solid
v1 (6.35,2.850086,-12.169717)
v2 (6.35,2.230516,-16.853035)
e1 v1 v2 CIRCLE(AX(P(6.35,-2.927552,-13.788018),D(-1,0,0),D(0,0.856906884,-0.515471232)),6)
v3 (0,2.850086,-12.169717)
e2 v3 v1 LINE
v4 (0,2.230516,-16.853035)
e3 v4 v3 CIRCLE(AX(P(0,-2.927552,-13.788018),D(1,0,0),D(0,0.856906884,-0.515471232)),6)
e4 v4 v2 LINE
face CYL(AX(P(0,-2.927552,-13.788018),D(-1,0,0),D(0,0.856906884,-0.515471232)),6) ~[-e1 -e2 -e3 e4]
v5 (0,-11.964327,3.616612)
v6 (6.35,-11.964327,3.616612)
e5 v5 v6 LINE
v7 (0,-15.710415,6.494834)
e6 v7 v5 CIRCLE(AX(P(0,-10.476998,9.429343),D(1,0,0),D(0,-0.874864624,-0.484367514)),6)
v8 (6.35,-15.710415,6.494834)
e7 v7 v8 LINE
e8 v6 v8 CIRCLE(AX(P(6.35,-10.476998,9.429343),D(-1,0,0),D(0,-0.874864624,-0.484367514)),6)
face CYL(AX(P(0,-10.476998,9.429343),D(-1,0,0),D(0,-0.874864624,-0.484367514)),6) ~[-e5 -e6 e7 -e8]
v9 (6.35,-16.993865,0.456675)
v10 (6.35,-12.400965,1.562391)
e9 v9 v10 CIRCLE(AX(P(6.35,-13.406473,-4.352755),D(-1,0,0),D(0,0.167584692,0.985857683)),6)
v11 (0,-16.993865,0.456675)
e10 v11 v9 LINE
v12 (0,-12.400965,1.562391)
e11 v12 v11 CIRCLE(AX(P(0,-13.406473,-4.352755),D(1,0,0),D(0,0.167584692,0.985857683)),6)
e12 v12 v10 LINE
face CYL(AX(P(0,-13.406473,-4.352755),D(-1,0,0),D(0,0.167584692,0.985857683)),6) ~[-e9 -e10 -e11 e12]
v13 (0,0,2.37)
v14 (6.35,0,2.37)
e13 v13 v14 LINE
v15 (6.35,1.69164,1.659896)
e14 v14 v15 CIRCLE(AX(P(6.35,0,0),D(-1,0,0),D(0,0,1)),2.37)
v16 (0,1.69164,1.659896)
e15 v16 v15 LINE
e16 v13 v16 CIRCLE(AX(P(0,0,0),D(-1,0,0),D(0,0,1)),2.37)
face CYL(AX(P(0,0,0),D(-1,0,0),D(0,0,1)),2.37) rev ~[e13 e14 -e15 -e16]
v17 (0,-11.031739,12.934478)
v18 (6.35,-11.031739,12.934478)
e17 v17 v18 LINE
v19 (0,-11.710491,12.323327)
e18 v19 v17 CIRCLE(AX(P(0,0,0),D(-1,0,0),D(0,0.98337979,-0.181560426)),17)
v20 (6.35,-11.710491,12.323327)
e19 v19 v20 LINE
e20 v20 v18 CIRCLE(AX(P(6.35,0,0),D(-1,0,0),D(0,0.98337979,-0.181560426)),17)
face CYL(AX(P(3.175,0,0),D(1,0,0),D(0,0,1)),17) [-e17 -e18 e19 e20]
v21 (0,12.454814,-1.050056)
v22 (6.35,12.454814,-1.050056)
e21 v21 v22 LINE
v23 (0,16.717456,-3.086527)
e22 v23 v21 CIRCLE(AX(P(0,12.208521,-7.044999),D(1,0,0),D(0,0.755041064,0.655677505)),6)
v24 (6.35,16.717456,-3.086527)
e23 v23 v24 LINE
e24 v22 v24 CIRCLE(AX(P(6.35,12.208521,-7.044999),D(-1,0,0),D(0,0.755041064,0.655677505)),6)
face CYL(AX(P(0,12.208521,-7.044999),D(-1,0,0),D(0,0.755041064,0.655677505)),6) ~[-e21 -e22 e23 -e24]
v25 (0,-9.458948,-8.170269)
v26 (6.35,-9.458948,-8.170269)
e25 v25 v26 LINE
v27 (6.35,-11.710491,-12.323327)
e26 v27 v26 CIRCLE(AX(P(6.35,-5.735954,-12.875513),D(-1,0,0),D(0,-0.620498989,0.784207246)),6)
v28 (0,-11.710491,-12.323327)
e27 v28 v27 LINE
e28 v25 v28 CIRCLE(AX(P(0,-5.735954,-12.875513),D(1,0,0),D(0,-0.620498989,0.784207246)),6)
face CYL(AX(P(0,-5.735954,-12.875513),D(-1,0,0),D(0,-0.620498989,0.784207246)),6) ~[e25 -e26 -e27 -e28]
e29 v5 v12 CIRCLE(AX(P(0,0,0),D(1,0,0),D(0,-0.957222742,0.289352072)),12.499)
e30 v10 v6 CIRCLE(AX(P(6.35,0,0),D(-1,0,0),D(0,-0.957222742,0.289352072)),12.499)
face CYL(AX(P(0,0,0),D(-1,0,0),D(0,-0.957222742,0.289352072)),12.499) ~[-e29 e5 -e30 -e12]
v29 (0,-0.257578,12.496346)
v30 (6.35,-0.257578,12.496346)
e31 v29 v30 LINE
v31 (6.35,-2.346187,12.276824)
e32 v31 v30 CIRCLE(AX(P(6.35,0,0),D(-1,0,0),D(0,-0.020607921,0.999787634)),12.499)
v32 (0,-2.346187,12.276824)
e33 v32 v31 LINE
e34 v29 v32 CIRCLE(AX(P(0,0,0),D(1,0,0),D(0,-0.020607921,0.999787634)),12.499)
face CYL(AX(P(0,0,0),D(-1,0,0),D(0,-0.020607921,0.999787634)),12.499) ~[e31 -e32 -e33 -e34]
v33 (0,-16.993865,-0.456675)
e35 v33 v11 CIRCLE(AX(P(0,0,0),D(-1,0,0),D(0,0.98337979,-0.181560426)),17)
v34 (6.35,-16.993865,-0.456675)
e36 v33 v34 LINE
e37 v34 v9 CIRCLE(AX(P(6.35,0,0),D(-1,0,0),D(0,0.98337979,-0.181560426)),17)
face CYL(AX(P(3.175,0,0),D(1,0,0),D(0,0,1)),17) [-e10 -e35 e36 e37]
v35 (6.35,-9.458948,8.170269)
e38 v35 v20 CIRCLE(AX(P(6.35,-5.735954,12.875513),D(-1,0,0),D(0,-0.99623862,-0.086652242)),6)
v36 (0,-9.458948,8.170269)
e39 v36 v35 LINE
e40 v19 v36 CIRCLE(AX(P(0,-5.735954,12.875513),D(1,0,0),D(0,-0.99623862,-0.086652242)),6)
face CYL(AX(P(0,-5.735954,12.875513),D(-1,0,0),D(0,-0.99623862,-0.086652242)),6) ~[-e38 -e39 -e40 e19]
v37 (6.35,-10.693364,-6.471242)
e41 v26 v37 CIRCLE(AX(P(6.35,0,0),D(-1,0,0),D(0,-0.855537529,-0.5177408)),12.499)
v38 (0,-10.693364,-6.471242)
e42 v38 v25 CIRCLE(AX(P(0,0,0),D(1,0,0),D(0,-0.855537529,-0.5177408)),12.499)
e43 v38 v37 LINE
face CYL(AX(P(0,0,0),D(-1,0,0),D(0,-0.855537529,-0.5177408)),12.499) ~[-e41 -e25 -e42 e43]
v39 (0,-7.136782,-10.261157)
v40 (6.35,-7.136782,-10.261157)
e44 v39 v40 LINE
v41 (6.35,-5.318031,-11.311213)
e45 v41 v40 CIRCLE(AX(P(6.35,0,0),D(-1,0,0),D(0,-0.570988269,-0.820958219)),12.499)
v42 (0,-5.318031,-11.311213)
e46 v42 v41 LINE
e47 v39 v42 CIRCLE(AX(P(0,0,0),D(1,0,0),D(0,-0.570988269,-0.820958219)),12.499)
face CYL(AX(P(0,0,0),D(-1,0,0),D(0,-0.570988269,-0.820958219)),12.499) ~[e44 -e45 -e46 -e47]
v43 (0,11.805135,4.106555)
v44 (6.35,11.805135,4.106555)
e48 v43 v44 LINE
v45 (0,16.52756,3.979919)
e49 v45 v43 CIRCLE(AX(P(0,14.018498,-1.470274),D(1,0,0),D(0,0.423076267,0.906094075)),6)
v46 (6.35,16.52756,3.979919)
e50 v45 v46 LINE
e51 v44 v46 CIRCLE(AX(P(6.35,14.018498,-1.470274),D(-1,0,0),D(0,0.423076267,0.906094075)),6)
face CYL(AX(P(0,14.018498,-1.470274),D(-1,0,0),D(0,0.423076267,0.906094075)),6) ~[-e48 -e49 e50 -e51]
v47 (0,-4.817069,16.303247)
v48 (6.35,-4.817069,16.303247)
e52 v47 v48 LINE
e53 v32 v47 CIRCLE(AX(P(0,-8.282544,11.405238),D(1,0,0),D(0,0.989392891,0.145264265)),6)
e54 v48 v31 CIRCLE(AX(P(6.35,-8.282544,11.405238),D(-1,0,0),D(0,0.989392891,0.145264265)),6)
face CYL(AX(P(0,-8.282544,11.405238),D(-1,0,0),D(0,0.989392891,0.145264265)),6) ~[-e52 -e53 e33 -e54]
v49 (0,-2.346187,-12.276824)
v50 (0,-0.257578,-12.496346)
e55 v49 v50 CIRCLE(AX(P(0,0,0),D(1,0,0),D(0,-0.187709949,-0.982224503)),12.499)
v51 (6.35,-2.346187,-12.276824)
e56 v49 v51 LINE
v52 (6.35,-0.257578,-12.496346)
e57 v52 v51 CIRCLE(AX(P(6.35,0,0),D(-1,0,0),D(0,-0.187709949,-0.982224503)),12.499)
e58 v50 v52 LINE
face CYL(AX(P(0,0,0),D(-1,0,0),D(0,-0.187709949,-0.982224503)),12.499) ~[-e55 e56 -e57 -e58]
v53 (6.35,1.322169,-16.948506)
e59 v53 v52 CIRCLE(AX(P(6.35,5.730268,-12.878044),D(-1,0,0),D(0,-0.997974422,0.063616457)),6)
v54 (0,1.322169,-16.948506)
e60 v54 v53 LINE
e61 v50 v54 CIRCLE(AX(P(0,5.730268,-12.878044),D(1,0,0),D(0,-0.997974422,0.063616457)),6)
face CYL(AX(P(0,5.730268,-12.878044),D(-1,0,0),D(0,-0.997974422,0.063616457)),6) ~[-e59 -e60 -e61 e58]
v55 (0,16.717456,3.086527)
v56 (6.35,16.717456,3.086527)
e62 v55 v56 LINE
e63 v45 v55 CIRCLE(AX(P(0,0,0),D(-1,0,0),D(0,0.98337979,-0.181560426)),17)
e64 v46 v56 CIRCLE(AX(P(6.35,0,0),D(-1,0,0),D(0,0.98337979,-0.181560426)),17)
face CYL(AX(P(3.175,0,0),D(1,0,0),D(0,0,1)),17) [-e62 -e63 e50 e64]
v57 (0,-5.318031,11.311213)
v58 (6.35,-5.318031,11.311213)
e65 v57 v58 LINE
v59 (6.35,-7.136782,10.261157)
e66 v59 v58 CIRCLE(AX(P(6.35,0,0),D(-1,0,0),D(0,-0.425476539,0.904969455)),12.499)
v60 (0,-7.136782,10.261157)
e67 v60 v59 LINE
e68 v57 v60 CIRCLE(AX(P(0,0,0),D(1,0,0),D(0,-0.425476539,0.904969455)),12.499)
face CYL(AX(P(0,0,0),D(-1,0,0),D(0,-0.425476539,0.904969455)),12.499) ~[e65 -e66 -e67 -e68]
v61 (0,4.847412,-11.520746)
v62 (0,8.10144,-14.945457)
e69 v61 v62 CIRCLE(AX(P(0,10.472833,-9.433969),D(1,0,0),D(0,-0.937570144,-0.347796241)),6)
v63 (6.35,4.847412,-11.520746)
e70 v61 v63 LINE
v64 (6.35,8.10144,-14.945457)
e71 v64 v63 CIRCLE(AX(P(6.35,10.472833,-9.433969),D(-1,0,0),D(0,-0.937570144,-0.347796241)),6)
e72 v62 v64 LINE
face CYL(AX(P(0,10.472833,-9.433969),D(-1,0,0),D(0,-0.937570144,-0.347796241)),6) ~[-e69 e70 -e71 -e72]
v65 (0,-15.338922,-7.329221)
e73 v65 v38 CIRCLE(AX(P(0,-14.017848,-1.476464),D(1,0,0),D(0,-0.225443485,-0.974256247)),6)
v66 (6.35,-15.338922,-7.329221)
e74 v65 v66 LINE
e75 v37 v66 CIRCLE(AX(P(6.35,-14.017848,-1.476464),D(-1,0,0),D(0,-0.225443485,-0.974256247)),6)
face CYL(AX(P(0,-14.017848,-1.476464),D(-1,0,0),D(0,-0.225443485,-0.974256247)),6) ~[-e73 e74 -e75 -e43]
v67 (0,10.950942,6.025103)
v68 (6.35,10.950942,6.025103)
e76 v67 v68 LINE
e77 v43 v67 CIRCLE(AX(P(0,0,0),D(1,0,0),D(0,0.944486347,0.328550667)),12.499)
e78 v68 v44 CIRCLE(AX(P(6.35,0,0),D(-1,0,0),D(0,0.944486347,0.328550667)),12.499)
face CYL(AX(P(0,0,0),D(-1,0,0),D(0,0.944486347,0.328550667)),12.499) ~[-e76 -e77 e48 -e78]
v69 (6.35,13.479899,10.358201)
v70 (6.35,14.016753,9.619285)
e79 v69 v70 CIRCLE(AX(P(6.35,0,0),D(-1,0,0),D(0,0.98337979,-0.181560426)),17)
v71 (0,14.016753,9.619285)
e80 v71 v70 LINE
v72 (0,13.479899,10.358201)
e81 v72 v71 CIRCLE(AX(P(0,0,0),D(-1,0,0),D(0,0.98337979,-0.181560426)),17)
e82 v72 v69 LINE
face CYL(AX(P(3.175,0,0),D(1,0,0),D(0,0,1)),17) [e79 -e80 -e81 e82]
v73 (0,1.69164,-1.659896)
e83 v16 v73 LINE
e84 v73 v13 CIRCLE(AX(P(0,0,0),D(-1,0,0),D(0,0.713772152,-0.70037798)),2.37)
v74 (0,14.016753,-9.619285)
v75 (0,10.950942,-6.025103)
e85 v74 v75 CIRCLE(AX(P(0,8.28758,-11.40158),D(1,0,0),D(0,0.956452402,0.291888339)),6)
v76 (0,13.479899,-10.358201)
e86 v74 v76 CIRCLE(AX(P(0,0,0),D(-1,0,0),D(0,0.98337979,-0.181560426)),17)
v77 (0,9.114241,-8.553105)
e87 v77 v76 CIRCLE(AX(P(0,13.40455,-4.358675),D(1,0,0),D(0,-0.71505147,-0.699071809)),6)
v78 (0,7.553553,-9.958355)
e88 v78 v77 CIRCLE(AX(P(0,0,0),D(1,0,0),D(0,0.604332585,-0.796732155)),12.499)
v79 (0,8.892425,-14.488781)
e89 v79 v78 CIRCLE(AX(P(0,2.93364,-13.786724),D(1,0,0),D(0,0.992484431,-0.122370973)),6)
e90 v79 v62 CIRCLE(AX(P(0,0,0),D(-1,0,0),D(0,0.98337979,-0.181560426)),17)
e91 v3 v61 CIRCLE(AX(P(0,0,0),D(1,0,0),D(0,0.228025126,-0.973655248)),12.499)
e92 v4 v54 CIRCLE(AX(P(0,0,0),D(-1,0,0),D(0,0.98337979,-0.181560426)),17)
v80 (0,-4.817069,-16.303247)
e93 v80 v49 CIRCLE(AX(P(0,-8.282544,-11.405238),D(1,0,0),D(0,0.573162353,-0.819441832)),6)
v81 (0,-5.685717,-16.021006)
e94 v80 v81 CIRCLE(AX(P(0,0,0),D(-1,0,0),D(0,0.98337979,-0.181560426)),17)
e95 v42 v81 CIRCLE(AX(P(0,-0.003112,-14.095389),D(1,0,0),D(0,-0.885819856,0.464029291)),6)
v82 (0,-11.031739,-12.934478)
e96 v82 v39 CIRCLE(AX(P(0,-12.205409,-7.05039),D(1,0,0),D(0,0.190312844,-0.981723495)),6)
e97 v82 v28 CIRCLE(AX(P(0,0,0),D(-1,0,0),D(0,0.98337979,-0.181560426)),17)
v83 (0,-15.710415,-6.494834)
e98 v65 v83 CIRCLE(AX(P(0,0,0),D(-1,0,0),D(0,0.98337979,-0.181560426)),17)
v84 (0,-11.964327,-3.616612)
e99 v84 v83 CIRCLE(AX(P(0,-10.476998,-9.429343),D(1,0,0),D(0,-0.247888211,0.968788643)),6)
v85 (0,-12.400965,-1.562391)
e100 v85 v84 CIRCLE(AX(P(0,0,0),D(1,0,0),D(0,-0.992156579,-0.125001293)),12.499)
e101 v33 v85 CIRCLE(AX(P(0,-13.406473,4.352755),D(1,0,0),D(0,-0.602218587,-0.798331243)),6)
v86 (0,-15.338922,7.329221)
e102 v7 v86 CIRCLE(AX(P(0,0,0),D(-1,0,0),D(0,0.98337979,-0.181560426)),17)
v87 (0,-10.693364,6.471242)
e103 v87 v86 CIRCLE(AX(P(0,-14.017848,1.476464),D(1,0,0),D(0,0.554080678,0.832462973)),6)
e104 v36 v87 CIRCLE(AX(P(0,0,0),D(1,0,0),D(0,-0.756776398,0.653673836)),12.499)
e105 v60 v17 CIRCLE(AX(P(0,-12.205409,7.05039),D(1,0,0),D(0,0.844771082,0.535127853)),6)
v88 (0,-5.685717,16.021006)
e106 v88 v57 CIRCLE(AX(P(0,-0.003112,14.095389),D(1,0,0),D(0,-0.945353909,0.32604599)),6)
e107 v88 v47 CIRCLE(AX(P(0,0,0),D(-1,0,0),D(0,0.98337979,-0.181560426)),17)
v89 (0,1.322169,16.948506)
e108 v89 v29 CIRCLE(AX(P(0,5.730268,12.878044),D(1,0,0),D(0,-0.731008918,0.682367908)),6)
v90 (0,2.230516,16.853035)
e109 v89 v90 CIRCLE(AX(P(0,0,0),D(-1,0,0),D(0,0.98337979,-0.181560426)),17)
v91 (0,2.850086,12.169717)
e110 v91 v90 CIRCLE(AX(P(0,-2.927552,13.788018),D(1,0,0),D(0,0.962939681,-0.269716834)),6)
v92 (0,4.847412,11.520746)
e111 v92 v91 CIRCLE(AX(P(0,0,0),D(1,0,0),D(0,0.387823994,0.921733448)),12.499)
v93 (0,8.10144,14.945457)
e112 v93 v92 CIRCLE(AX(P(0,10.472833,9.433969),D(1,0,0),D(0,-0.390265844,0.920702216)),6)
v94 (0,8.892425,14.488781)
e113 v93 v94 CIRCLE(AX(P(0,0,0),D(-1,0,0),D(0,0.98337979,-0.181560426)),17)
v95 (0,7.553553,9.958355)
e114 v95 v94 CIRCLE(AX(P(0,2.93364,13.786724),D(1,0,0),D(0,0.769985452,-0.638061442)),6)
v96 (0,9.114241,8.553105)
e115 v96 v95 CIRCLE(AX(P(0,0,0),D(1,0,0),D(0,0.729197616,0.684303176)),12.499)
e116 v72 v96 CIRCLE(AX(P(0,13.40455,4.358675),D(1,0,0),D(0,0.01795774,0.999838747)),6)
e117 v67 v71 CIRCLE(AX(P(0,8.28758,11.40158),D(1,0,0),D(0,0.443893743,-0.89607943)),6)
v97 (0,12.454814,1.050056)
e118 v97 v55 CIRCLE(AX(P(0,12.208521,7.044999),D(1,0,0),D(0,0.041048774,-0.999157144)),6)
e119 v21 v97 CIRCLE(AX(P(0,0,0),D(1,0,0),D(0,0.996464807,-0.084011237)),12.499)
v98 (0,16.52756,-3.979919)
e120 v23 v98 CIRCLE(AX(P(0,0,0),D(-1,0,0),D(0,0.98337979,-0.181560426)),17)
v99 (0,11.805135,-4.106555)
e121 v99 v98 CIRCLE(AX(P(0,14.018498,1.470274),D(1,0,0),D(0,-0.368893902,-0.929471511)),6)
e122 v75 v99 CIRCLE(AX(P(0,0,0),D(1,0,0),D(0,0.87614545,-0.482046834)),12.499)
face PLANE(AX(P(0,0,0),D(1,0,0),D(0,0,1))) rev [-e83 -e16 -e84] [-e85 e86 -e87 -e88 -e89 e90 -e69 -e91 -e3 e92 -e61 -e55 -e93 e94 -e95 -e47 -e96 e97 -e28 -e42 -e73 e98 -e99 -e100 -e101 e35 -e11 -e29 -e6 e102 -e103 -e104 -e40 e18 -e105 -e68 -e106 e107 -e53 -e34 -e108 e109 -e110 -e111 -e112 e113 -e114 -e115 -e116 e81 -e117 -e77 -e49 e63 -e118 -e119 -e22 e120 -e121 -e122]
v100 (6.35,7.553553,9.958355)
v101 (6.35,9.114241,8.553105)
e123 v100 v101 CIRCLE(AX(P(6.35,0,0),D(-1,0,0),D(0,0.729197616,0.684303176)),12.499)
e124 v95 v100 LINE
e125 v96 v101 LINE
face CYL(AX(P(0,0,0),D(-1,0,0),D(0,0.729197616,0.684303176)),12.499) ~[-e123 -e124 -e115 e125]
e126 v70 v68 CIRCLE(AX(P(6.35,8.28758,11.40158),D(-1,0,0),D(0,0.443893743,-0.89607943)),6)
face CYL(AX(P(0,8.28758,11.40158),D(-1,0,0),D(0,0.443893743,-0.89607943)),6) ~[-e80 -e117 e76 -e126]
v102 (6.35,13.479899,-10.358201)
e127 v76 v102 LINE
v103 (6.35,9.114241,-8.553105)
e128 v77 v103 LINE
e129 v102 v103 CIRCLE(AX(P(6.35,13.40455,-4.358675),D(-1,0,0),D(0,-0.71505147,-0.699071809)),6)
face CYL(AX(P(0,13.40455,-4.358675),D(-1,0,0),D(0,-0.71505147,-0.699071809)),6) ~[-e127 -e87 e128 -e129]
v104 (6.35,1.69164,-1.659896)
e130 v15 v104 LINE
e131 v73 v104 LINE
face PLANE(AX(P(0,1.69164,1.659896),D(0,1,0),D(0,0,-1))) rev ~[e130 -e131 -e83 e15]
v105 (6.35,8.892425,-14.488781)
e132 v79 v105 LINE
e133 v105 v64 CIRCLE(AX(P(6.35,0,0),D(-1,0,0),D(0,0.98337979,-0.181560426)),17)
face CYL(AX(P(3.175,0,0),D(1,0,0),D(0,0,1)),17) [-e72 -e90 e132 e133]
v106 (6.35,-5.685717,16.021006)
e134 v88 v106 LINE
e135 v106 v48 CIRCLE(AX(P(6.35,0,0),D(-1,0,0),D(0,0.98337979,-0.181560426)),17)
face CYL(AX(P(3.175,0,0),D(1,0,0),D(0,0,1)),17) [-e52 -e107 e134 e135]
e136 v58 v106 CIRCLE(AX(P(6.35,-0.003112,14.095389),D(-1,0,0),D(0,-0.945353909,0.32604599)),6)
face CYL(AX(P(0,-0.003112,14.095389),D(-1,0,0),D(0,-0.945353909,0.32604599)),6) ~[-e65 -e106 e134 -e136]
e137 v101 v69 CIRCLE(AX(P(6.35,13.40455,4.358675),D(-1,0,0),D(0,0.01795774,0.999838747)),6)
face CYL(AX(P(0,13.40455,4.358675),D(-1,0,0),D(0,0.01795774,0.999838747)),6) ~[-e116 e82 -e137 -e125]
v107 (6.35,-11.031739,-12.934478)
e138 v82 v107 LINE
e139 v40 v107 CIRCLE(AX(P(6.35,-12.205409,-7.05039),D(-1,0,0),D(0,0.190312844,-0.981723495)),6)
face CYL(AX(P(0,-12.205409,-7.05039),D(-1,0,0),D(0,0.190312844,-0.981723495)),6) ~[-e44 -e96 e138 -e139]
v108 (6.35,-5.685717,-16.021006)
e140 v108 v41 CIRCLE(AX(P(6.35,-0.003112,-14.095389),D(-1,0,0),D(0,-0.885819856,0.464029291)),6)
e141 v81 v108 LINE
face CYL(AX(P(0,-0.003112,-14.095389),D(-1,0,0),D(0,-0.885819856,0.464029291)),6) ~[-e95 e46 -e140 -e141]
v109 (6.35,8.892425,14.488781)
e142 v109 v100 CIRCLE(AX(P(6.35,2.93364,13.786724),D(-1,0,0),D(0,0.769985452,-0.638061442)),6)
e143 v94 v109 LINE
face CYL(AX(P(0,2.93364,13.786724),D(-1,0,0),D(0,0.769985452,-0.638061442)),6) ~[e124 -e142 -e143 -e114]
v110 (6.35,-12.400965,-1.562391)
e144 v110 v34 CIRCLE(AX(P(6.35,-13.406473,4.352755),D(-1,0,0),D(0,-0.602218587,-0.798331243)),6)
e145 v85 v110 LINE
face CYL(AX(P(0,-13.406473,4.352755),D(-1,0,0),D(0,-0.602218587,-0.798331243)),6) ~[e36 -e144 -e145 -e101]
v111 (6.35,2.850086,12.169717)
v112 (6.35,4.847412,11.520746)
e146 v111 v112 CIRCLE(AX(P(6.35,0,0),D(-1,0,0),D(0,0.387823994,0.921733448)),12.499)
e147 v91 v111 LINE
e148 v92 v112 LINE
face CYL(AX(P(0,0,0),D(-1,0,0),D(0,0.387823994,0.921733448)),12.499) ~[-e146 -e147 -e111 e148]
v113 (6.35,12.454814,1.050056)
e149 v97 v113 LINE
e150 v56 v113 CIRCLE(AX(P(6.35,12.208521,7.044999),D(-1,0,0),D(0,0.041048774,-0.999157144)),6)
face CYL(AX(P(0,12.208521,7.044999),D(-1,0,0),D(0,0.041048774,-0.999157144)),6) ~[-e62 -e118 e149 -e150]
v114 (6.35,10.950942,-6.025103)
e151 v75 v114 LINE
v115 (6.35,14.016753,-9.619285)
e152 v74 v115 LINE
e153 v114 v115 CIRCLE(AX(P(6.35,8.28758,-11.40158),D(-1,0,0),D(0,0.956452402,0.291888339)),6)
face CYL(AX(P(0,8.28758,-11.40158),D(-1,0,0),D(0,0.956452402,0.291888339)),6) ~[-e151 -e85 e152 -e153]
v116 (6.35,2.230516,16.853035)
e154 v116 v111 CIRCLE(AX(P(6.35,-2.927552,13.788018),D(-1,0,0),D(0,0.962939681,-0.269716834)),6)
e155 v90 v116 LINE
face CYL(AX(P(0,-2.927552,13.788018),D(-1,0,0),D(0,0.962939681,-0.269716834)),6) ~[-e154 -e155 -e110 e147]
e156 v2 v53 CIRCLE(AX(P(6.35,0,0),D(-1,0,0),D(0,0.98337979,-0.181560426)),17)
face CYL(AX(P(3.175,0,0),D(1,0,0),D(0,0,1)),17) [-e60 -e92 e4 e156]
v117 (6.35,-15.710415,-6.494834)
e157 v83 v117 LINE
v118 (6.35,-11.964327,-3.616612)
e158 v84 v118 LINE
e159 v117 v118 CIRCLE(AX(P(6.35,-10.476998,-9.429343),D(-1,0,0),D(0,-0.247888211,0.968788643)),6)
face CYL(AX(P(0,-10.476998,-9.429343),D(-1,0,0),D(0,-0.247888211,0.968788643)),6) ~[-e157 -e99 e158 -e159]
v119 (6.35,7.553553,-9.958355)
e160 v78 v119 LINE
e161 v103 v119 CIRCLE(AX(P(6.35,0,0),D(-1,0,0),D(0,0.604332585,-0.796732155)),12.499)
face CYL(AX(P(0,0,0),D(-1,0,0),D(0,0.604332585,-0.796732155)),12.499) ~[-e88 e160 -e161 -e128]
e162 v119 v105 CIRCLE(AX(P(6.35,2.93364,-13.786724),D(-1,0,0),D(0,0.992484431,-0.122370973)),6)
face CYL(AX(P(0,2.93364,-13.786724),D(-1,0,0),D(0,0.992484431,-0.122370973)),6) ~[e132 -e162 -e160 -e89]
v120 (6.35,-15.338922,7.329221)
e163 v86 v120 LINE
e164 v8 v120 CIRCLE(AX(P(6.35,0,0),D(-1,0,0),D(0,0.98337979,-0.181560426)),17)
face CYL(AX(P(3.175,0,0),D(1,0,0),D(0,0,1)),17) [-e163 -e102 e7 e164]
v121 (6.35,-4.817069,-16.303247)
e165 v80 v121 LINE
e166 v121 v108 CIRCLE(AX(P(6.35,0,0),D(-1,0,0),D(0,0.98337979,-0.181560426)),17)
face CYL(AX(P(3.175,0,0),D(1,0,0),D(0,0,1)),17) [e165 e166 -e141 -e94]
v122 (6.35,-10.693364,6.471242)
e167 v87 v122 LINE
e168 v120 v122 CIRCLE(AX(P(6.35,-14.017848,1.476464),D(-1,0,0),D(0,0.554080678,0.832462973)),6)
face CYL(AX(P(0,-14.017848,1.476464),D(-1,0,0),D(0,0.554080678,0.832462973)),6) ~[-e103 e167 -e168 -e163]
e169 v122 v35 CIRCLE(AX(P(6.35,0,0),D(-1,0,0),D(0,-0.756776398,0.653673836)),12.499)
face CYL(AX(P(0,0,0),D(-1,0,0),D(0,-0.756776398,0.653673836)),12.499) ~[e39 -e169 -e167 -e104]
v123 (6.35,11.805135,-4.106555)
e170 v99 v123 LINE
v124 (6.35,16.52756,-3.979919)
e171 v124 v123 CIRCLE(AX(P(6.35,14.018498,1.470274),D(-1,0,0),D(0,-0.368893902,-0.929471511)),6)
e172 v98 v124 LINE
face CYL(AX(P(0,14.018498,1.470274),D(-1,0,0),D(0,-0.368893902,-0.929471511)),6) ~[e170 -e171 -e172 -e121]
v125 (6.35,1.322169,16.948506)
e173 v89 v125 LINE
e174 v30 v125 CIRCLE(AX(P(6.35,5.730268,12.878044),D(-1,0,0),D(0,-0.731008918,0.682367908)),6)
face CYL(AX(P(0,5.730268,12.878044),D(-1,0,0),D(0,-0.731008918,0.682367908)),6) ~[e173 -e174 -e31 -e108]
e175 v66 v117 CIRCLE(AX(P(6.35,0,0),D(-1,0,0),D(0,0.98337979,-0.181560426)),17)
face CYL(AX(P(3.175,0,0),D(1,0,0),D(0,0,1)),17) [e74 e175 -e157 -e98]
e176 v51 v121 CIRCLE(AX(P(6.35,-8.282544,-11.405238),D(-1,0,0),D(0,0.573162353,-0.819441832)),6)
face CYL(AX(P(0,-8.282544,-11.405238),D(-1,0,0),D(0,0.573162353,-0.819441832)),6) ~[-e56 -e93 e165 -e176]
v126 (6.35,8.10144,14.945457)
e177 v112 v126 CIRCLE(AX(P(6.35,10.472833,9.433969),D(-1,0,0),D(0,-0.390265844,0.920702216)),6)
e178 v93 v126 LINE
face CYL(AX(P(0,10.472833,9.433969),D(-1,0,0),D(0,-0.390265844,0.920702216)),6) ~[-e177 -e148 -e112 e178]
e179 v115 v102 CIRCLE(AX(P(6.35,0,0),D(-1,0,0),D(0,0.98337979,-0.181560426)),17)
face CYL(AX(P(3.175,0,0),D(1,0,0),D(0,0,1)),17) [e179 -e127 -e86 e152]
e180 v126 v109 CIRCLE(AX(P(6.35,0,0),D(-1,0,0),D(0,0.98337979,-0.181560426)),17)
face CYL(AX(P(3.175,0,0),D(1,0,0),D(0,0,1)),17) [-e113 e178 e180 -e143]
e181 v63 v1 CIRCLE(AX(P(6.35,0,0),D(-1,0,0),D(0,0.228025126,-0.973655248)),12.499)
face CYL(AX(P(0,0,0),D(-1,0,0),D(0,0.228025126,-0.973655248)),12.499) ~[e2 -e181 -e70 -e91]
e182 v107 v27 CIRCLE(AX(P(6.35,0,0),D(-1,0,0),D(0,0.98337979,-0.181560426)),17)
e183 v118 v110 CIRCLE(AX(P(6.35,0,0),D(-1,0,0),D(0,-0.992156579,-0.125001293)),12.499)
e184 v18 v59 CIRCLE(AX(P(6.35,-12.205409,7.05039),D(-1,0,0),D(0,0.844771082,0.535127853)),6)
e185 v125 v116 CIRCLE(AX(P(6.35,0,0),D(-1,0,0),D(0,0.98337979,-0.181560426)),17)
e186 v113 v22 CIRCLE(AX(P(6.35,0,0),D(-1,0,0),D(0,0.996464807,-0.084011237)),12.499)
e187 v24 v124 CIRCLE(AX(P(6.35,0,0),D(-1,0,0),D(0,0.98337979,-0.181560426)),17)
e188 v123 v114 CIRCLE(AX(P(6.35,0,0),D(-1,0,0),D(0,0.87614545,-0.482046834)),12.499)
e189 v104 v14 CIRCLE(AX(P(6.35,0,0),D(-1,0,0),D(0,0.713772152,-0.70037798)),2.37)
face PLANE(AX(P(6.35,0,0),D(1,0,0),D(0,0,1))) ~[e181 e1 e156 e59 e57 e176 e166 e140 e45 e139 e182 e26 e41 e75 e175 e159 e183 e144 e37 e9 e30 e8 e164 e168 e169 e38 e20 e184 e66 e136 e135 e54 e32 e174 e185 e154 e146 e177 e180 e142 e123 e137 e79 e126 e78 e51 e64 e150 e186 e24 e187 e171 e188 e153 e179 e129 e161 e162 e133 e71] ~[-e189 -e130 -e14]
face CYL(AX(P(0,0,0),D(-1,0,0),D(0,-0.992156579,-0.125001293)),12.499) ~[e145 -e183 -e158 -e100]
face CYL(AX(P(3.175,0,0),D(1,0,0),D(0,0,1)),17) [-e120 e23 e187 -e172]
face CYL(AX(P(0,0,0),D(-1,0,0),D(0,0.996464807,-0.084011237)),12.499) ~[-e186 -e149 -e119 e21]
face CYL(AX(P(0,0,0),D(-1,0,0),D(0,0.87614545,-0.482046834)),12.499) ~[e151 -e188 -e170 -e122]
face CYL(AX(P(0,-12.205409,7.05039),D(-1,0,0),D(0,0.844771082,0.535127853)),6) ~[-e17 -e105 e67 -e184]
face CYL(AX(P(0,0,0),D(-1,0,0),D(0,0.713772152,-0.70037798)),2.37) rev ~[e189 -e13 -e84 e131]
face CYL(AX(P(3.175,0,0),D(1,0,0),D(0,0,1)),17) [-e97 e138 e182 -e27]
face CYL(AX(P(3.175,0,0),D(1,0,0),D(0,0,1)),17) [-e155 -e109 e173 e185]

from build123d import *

# Parameters (mm, degrees)
BASPROSKE_W        = 6.35
BASPROSKE_H        = 17
TOOTHCUT_DEPTH     = 25.86609137
TEETHCUTS_COUNT    = 15
BORSKE_R           = 0.4
BORE_DEPTH         = 50.0000508
CUT_EXTRUDE1_DEPTH = 25.830915598


with BuildPart() as part:
    # BasProSke → Base-Revolve (revolve)
    with BuildSketch(Plane(origin=(0, 0, 0), x_dir=(1, 0, 0), z_dir=(0, 1, 0)), mode=Mode.PRIVATE) as base_revolve_sk:
        with Locations((3.175, 8.5)):
            Rectangle(BASPROSKE_W, BASPROSKE_H)
    revolve(base_revolve_sk.sketch.rotate(Axis((-10, 0, 0), (1, 0, 0)), 180), axis=Axis((-10, 0, 0), (1, 0, 0)))

    # TooCutSke → ToothCut (cut, through all)
    with BuildSketch(Plane(origin=(0, 0, 0), x_dir=(0, 0, -1), z_dir=(1, 0, 0))):
        with BuildLine():
            ThreePointArc((1.050056448, 12.454813626), (0, 12.499), (-1.050056448, 12.454813626))
            ThreePointArc((-1.050056448, 12.454813626), (-1.638118106, 14.809604533), (-3.110934279, 16.73876737))
            ThreePointArc((-3.110934279, 16.73876737), (0, 17.0254), (3.110934279, 16.73876737))
            ThreePointArc((3.110934279, 16.73876737), (1.638118106, 14.809604533), (1.050056448, 12.454813626))
        make_face()
    toothcut = extrude(amount=TOOTHCUT_DEPTH, mode=Mode.SUBTRACT)

    # TeethCuts: ToothCut ×15 about axis
    teethcuts_axis = Axis((0, 0, 0), (1, 0, 0))
    for i in range(1, TEETHCUTS_COUNT):
        add(toothcut.rotate(teethcuts_axis, i * 360 / TEETHCUTS_COUNT), mode=Mode.SUBTRACT)

    # BorSke → Bore (cut, symmetric)
    with BuildSketch(Plane(origin=(0, 0, 0), x_dir=(0, 0, -1), z_dir=(1, 0, 0))):
        with Locations(Location((0, 0, 0), (0, 0, 180))):
            Circle(BORSKE_R)
    extrude(amount=BORE_DEPTH, both=True, mode=Mode.SUBTRACT)

    # Sketch1 → Cut-Extrude1 (cut, through all)
    with BuildSketch(Plane.ZY):
        with BuildLine():
            Line((1.659895813, 1.69164), (-1.659895813, 1.69164))
            ThreePointArc((-1.659895813, 1.69164), (-0.917318626, -2.185274934), (2.37, 0))
            ThreePointArc((2.37, 0), (2.185274934, 0.917318626), (1.659895813, 1.69164))
        make_face()
    extrude(amount=-CUT_EXTRUDE1_DEPTH, mode=Mode.SUBTRACT)


solid = part.part
